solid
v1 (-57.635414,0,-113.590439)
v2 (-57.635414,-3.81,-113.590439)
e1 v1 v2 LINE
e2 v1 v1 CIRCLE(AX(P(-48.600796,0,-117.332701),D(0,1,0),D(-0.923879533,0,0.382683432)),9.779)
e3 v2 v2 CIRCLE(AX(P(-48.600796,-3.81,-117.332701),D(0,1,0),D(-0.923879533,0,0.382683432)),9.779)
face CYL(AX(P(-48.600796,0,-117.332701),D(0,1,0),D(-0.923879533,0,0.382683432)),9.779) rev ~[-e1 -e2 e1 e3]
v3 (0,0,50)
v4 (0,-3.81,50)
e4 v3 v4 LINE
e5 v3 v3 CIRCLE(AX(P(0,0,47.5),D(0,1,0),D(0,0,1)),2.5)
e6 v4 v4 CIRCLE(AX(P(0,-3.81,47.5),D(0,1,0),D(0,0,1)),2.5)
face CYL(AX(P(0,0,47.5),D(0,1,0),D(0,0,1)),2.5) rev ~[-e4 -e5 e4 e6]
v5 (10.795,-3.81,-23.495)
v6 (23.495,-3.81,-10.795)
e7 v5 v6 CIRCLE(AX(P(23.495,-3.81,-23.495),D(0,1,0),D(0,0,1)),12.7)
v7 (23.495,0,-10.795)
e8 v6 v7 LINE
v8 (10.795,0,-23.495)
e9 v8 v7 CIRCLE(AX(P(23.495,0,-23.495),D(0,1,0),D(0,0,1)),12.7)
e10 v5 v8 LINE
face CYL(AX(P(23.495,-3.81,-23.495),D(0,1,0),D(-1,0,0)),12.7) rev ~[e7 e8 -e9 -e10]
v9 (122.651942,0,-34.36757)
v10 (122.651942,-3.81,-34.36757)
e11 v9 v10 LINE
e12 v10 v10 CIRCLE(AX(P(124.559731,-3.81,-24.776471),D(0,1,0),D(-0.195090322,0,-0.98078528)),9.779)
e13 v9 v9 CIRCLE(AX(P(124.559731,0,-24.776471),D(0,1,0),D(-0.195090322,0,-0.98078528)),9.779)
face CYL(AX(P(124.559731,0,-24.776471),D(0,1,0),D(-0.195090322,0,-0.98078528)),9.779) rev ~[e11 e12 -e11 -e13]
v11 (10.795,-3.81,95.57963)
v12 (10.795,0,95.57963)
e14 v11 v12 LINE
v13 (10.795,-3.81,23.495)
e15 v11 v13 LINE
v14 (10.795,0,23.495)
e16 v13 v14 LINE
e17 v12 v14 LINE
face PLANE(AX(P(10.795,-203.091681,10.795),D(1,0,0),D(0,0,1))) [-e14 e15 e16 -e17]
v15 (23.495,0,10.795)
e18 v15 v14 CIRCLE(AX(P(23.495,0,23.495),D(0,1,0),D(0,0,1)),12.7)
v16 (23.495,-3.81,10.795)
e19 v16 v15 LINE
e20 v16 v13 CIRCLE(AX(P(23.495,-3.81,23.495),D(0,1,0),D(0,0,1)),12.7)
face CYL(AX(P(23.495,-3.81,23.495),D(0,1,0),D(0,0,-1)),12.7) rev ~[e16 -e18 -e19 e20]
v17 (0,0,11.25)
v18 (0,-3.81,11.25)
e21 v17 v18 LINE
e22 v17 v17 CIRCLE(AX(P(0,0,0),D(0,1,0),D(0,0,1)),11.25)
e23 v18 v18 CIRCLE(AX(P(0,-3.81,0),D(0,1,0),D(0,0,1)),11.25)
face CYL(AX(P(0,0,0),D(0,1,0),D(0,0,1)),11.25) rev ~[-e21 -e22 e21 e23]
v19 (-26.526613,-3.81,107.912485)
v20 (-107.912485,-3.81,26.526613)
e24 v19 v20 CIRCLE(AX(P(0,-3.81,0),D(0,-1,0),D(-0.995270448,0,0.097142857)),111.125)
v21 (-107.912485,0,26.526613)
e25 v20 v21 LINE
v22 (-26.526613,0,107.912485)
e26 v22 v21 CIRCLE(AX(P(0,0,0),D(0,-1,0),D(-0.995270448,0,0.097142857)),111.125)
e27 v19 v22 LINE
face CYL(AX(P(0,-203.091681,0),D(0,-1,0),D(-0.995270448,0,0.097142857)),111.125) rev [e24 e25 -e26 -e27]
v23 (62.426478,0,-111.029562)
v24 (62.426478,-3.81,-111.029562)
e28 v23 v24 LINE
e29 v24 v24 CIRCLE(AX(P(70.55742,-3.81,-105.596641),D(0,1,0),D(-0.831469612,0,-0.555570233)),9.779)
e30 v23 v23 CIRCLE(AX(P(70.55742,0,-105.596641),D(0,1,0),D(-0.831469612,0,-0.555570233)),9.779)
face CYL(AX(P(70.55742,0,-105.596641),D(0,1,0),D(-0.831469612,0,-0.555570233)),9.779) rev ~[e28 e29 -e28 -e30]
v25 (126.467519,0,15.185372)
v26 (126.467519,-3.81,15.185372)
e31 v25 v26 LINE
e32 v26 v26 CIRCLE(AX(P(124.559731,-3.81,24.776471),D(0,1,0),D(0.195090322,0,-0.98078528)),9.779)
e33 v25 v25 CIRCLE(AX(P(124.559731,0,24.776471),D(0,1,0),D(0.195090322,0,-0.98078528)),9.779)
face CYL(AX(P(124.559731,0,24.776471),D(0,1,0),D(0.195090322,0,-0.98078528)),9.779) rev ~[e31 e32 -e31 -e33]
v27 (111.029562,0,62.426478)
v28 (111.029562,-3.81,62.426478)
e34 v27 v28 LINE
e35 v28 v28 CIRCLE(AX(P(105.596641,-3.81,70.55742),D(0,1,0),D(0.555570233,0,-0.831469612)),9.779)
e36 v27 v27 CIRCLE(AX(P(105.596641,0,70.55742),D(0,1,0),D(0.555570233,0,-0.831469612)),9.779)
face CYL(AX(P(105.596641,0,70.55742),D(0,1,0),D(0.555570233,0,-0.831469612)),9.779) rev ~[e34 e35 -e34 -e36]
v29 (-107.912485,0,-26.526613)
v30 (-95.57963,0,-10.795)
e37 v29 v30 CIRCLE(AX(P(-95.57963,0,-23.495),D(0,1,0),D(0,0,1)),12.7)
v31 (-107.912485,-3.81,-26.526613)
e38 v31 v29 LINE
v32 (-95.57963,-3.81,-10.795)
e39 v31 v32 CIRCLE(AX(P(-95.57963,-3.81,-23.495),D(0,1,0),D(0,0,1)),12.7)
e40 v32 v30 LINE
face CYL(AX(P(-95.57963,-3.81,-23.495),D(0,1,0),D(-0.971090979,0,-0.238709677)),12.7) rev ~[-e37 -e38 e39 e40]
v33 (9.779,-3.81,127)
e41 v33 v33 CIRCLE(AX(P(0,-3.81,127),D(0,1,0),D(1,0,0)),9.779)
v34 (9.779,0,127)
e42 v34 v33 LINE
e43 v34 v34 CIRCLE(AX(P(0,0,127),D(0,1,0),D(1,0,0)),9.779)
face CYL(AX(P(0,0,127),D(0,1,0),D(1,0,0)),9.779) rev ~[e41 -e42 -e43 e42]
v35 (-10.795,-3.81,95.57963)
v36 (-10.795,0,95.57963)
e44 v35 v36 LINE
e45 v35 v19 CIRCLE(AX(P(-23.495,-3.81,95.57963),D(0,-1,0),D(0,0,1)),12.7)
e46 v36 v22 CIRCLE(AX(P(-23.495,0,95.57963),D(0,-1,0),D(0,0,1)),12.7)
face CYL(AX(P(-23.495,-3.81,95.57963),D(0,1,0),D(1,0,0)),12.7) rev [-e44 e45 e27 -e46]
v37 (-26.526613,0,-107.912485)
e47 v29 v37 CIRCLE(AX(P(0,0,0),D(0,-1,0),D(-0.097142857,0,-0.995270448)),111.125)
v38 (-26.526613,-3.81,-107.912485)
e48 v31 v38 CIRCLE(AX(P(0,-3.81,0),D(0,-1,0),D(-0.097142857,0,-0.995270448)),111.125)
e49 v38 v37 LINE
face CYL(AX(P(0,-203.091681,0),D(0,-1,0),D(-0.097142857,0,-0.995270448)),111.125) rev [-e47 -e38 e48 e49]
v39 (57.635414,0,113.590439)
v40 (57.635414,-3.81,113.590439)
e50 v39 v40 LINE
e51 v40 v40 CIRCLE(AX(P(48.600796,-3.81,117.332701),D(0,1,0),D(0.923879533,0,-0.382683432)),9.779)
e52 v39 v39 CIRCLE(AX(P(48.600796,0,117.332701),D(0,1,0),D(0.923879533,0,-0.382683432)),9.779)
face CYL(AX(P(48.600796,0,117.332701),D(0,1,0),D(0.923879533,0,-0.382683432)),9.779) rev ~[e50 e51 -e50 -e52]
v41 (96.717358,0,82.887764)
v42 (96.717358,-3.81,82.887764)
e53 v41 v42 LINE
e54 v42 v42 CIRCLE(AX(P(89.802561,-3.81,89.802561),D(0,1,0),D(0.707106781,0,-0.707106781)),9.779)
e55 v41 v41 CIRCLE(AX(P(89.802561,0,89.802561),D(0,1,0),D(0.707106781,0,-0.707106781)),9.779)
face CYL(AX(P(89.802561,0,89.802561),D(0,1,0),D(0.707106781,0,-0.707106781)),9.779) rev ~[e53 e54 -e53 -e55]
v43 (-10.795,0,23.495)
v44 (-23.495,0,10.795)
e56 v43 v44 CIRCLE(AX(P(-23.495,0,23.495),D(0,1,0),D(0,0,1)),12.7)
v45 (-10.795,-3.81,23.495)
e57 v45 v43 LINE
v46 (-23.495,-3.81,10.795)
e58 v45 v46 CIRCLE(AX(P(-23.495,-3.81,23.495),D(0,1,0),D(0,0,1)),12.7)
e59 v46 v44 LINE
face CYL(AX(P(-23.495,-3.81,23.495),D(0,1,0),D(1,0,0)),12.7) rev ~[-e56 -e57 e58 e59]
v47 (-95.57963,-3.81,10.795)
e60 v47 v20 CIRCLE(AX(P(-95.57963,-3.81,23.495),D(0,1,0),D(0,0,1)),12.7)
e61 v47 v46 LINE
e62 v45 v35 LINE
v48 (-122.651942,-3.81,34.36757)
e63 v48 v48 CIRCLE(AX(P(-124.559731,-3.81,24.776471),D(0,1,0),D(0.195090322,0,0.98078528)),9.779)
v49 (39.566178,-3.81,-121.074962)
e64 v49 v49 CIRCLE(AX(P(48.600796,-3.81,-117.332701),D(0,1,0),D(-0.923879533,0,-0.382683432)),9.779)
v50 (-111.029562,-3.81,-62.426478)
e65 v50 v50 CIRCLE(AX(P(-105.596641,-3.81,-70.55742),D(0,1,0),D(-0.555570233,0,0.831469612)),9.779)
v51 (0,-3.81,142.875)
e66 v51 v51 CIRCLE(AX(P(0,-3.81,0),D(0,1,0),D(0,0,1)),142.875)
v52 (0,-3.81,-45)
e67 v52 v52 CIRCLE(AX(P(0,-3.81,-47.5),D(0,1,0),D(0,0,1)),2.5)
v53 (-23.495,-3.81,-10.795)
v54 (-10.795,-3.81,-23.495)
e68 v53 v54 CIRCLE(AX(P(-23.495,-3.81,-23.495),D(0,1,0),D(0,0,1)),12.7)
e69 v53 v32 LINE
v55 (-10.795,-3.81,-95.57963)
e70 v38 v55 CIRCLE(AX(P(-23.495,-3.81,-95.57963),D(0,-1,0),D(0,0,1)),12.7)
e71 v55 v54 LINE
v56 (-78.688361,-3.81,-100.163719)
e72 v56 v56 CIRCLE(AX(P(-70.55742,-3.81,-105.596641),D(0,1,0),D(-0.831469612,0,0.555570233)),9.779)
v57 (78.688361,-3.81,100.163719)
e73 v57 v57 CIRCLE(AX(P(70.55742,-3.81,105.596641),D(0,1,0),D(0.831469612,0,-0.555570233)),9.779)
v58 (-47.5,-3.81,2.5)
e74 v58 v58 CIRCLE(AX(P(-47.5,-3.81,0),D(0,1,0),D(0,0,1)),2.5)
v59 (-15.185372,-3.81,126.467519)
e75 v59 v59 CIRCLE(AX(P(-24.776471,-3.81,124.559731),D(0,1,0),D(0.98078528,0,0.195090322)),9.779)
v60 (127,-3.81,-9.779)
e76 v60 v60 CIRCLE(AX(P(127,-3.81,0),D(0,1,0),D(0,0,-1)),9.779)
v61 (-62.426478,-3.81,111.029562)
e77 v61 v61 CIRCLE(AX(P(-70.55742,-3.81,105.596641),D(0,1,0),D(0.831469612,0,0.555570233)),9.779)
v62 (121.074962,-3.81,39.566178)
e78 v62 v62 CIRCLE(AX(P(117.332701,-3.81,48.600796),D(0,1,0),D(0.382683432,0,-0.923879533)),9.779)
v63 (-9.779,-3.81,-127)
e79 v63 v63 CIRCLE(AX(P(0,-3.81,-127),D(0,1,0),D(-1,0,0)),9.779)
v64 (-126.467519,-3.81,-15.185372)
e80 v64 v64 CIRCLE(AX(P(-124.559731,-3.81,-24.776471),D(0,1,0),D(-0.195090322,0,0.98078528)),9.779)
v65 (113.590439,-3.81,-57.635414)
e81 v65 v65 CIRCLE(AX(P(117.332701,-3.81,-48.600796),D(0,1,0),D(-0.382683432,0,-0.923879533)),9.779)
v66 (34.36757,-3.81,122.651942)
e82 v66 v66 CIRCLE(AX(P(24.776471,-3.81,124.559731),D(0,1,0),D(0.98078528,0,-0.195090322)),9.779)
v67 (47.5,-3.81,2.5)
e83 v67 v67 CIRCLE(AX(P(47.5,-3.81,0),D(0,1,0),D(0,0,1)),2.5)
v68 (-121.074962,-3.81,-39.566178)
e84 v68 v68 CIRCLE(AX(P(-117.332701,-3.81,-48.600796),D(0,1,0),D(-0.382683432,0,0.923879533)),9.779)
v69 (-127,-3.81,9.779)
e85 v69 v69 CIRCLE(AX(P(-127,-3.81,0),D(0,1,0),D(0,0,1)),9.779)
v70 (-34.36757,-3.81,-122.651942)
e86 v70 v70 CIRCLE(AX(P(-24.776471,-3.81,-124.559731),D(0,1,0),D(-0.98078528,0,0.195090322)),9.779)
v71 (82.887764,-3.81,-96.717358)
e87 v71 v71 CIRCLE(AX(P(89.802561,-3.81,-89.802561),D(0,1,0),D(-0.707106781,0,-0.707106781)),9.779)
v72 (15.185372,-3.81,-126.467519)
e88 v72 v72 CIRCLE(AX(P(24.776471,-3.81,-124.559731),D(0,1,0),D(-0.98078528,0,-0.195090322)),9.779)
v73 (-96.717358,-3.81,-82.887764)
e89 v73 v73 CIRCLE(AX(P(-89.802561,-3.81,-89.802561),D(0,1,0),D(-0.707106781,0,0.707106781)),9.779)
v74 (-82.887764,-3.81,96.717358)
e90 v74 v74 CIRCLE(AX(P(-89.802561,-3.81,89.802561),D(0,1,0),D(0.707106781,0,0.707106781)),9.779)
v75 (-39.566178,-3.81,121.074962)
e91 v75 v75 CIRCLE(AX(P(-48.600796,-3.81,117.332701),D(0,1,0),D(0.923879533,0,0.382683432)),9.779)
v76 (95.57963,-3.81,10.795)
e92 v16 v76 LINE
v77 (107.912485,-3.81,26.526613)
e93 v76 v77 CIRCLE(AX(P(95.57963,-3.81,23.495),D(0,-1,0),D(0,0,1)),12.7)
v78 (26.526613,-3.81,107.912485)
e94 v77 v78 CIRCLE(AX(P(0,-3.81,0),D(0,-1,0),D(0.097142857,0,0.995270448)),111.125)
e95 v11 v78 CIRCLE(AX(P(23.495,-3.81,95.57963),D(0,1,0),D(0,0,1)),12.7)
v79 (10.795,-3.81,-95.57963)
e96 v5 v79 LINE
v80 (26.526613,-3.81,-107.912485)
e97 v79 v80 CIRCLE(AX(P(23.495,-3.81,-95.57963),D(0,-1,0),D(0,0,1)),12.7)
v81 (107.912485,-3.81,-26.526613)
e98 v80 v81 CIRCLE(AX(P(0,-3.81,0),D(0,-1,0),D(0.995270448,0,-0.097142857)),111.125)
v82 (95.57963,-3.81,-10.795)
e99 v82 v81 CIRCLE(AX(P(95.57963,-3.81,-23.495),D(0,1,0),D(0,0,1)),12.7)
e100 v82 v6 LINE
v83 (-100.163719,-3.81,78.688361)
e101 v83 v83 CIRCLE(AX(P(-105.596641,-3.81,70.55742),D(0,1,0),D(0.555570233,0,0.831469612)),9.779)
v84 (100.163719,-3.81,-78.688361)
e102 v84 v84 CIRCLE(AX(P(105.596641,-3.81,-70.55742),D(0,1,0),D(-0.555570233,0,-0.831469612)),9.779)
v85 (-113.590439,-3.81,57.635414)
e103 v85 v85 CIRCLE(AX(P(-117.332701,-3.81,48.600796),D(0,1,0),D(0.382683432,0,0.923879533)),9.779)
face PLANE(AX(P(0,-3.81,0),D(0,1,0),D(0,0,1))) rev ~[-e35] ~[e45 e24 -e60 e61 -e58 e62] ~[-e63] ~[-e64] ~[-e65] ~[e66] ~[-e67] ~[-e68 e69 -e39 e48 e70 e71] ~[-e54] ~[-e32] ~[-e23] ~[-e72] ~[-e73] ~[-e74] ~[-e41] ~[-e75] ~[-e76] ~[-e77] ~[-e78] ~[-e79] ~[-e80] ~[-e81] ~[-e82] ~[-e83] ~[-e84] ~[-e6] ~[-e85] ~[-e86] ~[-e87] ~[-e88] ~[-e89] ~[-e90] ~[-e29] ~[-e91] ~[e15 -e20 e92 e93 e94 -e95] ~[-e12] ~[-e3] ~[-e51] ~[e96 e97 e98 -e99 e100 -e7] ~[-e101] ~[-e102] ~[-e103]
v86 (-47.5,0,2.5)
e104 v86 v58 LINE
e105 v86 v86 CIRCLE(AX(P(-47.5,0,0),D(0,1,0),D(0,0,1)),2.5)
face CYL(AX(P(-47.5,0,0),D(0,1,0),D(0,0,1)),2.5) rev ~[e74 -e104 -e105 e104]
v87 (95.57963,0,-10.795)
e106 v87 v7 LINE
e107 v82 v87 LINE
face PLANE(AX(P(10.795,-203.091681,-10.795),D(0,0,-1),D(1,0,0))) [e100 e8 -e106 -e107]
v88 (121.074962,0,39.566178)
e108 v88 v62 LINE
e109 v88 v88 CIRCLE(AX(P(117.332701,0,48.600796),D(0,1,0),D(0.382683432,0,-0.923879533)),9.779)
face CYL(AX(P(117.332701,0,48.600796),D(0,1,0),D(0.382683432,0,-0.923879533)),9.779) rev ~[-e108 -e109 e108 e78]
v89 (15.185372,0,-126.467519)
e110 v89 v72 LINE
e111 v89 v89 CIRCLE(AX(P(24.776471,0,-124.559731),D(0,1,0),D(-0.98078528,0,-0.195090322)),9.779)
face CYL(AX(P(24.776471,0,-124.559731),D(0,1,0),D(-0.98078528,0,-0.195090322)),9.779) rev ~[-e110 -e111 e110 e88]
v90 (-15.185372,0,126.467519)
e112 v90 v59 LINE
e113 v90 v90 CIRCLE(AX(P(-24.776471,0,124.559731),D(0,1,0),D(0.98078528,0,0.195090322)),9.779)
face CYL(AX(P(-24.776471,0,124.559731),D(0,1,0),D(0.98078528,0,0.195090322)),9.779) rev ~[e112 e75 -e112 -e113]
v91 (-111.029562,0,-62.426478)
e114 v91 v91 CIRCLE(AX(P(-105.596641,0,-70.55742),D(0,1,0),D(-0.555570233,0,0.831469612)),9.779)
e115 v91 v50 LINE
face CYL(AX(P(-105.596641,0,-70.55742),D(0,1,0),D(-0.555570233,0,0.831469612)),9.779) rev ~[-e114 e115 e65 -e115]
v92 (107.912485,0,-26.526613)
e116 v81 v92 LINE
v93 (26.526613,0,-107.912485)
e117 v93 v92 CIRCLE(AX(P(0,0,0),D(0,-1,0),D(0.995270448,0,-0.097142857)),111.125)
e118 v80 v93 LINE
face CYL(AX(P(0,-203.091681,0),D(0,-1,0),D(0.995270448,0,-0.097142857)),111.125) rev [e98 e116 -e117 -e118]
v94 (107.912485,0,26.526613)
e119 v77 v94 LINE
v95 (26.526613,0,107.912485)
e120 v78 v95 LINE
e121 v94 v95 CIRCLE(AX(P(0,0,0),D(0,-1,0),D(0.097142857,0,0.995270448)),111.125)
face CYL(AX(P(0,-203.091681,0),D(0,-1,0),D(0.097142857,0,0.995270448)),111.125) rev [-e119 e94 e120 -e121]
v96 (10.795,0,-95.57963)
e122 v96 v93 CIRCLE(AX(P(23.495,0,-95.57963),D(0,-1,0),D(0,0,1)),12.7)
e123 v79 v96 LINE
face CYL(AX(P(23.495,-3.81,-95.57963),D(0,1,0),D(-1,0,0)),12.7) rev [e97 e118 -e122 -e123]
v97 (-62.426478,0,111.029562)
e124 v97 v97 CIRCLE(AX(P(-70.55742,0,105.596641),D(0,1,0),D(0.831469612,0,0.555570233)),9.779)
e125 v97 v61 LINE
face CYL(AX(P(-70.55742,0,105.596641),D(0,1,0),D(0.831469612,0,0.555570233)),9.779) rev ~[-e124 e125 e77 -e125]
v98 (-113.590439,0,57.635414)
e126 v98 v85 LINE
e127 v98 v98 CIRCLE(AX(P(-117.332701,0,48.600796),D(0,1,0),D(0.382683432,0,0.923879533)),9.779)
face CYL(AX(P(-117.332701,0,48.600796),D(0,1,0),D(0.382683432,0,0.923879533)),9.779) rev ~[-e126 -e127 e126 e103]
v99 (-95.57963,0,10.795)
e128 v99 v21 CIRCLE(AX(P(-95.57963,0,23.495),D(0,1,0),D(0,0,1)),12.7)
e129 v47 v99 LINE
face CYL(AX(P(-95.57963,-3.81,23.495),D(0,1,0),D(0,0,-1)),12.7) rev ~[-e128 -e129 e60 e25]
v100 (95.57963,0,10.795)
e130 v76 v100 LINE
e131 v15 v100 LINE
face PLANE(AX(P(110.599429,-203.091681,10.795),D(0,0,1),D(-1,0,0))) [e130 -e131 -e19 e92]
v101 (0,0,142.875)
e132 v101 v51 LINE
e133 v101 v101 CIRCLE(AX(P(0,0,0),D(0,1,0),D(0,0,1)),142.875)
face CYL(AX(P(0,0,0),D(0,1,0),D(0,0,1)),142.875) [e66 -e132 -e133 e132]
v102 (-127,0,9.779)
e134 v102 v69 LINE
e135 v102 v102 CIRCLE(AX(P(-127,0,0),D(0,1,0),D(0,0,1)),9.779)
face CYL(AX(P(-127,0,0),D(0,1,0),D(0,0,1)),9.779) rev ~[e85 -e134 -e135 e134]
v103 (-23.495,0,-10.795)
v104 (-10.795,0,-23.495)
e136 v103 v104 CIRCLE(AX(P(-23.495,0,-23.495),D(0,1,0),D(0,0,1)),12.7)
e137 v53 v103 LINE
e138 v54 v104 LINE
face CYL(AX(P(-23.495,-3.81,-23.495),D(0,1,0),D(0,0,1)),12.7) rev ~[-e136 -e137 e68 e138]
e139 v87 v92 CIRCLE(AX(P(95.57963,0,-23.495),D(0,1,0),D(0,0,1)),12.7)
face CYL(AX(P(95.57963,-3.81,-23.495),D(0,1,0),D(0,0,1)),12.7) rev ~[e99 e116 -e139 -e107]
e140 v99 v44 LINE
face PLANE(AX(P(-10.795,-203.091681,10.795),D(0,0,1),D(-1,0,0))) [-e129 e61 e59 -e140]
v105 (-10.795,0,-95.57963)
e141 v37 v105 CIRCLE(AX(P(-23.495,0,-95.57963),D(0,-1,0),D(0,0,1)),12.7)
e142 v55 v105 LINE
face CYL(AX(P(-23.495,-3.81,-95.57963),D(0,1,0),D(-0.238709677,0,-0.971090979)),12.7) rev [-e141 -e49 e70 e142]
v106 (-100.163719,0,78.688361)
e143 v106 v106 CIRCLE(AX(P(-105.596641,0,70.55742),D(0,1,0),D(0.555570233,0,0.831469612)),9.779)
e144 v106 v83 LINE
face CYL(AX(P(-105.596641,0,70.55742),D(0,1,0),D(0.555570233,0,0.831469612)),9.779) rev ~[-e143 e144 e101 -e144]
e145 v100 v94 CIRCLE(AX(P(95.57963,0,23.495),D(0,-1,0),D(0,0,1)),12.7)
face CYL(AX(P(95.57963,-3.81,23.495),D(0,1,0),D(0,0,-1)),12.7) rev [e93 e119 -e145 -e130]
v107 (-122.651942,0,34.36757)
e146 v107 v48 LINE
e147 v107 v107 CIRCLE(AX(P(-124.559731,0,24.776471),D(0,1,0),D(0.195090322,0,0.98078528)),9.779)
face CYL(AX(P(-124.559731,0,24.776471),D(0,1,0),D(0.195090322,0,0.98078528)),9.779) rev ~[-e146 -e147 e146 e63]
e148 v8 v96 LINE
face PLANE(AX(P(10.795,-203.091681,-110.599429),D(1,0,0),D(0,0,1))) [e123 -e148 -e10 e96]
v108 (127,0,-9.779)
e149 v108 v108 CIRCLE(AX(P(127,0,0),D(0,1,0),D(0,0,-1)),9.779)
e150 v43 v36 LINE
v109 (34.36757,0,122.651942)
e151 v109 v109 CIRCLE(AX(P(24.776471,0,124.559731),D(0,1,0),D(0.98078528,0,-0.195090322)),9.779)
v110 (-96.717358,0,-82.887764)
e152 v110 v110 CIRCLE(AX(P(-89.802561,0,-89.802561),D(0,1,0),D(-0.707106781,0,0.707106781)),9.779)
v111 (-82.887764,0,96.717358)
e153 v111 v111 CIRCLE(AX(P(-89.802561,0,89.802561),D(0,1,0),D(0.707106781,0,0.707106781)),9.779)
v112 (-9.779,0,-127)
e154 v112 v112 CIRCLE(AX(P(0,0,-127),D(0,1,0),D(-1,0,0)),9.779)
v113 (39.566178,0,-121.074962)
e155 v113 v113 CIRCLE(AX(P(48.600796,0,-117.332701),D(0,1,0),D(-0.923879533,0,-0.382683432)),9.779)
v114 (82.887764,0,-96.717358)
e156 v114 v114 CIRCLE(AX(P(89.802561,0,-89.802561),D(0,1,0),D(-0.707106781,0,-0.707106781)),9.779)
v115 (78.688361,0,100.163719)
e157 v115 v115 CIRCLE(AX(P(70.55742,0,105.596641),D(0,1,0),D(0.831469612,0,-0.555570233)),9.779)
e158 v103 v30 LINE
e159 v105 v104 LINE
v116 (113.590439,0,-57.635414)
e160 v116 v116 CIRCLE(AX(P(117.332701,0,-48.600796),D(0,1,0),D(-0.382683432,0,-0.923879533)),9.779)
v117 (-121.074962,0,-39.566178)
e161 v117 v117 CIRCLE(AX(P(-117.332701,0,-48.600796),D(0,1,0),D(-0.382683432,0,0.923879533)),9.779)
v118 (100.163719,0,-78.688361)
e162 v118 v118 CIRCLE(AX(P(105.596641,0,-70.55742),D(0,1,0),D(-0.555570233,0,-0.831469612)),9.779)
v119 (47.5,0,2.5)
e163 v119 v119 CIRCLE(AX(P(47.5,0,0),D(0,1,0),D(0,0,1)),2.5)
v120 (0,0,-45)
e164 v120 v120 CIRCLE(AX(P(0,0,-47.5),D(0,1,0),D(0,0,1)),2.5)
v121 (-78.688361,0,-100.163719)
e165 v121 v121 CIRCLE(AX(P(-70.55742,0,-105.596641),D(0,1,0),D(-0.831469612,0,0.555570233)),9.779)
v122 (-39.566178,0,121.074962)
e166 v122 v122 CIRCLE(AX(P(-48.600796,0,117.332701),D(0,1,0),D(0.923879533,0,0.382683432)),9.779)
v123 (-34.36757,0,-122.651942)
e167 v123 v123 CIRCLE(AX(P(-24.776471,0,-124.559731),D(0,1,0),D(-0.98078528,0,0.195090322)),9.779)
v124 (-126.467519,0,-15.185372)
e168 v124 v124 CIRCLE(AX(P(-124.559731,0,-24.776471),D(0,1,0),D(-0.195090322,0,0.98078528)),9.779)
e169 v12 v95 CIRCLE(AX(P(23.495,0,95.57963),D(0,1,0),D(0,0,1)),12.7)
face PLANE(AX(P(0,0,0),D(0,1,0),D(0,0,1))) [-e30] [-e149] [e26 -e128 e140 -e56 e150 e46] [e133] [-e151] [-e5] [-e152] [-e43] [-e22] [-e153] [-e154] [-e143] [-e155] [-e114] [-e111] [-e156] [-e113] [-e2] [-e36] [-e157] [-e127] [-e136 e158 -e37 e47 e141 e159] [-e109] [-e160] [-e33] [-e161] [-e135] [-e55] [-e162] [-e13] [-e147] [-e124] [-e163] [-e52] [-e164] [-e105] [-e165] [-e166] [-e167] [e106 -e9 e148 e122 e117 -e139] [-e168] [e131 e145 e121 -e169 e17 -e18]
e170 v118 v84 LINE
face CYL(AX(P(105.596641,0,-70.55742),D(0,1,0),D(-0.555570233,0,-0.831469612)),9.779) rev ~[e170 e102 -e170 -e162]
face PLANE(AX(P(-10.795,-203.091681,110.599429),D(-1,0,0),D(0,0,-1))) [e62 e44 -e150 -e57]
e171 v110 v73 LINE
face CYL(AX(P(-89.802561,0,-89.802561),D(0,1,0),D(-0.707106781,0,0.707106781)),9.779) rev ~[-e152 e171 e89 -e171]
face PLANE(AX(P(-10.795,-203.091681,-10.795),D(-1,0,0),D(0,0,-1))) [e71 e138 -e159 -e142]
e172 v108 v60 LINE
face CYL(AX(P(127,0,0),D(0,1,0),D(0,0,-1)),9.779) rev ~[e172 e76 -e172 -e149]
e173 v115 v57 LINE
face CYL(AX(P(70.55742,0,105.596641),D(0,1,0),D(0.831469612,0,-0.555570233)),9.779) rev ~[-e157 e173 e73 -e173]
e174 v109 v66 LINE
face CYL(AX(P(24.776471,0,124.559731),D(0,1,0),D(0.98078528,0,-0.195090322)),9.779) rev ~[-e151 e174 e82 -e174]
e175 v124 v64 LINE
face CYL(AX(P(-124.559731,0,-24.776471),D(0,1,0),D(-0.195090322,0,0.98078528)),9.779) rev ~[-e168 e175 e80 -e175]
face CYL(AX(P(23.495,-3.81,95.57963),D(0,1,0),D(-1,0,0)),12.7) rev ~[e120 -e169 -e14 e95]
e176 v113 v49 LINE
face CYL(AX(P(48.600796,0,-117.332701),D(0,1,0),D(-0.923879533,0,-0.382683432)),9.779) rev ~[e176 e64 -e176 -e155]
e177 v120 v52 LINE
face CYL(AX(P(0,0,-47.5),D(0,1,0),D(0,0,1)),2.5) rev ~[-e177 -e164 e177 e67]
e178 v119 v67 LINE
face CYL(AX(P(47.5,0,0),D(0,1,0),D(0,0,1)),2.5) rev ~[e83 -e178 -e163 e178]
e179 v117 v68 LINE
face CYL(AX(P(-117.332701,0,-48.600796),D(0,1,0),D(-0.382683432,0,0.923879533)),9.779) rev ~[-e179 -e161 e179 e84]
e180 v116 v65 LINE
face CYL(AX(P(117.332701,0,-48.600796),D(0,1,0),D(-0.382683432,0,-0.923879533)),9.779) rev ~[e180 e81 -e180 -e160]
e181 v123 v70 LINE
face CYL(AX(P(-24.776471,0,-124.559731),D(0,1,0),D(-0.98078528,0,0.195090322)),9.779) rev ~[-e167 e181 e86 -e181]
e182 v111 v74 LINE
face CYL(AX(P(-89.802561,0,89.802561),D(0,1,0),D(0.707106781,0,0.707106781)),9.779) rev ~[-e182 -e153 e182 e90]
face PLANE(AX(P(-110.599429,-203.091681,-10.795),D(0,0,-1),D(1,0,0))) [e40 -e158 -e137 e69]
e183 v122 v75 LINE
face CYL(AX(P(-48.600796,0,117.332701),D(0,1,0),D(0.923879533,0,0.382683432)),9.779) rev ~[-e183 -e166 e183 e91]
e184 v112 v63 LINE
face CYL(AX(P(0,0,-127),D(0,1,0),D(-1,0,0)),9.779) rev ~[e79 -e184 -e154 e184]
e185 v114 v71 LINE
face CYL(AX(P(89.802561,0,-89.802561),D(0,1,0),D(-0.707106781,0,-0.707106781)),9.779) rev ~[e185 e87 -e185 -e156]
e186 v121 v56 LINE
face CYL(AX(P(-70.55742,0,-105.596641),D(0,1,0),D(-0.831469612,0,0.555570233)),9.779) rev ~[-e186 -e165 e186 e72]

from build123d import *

# Parameters (mm, degrees)
SKETCH1_R               = 142.875
SKETCH1_R_2             = 11.25
BOSS_EXTRUDE2_DEPTH     = 3.81
SKETCH2_R               = 9.779
CUT_EXTRUDE1_DEPTH      = 203.091680556
CUT_EXTRUDE2_DEPTH      = 203.091680556
CUT_EXTRUDE2_DEPTH_BACK = 203.091680556
FILLET1_R               = 12.7
CIRPATTERN1_COUNT       = 32
SKETCH5_R               = 2.5
CUT_EXTRUDE3_DEPTH      = 203.091680556


with BuildPart() as part:
    # Sketch1 → Boss-Extrude2 (new body)
    with BuildSketch(Plane(origin=(0, 0, 0), x_dir=(1, 0, 0), z_dir=(0, 1, 0))):
        with Locations(Location((0, 0, 0), (0, 0, 270))):
            Circle(SKETCH1_R)
        with Locations(Location((0, 0, 0), (0, 0, 270))):
            Circle(SKETCH1_R_2, mode=Mode.SUBTRACT)
    extrude(amount=-BOSS_EXTRUDE2_DEPTH)

    # Sketch2 → Cut-Extrude1 (cut, through all)
    with BuildSketch(Plane(origin=(0, 0, 0), x_dir=(1, 0, 0), z_dir=(0, 1, 0))):
        with Locations(Location((-127, 0, 0), (0, 0, 270))):
            Circle(SKETCH2_R)
    cut_extrude1 = extrude(amount=-CUT_EXTRUDE1_DEPTH, mode=Mode.SUBTRACT)

    # Sketch4 → Cut-Extrude2 (cut, two sides: drawn at the far end of the back side and taken through both)
    with BuildSketch(Plane(origin=(0, 0, 0), x_dir=(1, 0, 0), z_dir=(0, 1, 0)).offset(-CUT_EXTRUDE2_DEPTH_BACK)):
        with BuildLine():
            ThreePointArc((10.795, -110.59942857), (78.577241059, -78.577241059), (110.59942857, -10.795))
            Line((110.59942857, -10.795), (14.330567107, -10.795))
            Line((14.330567107, -10.795), (10.795, -10.795))
            Line((10.795, -10.795), (10.795, -14.276272178))
            Line((10.795, -14.276272178), (10.795, -110.59942857))
        make_face()
        with BuildLine():
            ThreePointArc((110.59942857, 10.795), (78.577241059, 78.577241059), (10.795, 110.59942857))
            Line((10.795, 110.59942857), (10.795, 13.38498083))
            Line((10.795, 13.38498083), (10.795, 10.795))
            Line((10.795, 10.795), (14.557306927, 10.795))
            Line((14.557306927, 10.795), (110.59942857, 10.795))
        make_face()
        with BuildLine():
            Line((-10.795, 10.795), (-10.795, 16.346811669))
            Line((-10.795, 16.346811669), (-10.795, 110.59942857))
            ThreePointArc((-10.795, 110.59942857), (-78.577241059, 78.577241059), (-110.59942857, 10.795))
            Line((-110.59942857, 10.795), (-13.320463431, 10.795))
            Line((-13.320463431, 10.795), (-10.795, 10.795))
        make_face()
        with BuildLine():
            Line((-15.550882255, -10.795), (-110.59942857, -10.795))
            ThreePointArc((-110.59942857, -10.795), (-78.577241059, -78.577241059), (-10.795, -110.59942857))
            Line((-10.795, -110.59942857), (-10.795, -14.068746807))
            Line((-10.795, -14.068746807), (-10.795, -10.795))
            Line((-10.795, -10.795), (-15.550882255, -10.795))
        make_face()
    extrude(amount=CUT_EXTRUDE2_DEPTH + CUT_EXTRUDE2_DEPTH_BACK, mode=Mode.SUBTRACT)

    # Fillet1
    fillet1_edges = [part.edges().sort_by_distance(p)[0] for p in [
        (-110.59942857, -1.905, 10.795),
        (-10.795, -1.905, 10.795),
        (-10.795, -1.905, 110.59942857),
        (-10.795, -1.905, -110.59942857),
        (-10.795, -1.905, -10.795),
        (-110.59942857, -1.905, -10.795),
        (110.59942857, -1.905, -10.795),
        (10.795, -1.905, -10.795),
        (10.795, -1.905, -110.59942857),
        (10.795, -1.905, 110.59942857),
        (10.795, -1.905, 10.795),
        (110.59942857, -1.905, 10.795),
    ]]
    fillet(fillet1_edges, radius=FILLET1_R)

    # CirPattern1: Cut-Extrude1 ×32 about axis
    cirpattern1_axis = Axis((0, 0, 0), (0, 1, 0))
    for i in range(1, CIRPATTERN1_COUNT):
        add(cut_extrude1.rotate(cirpattern1_axis, i * 360 / CIRPATTERN1_COUNT), mode=Mode.SUBTRACT)

    # Sketch5 → Cut-Extrude3 (cut, through all)
    with BuildSketch(Plane(origin=(0, 0, 0), x_dir=(1, 0, 0), z_dir=(0, 1, 0))):
        with Locations(Location((0, 47.5, 0), (0, 0, 270))):
            Circle(SKETCH5_R)
        with Locations(Location((47.5, 0, 0), (0, 0, 270))):
            Circle(SKETCH5_R)
        with Locations(Location((0, -47.5, 0), (0, 0, 270))):
            Circle(SKETCH5_R)
        with Locations(Location((-47.5, 0, 0), (0, 0, 270))):
            Circle(SKETCH5_R)
    extrude(amount=-CUT_EXTRUDE3_DEPTH, mode=Mode.SUBTRACT)


solid = part.part
